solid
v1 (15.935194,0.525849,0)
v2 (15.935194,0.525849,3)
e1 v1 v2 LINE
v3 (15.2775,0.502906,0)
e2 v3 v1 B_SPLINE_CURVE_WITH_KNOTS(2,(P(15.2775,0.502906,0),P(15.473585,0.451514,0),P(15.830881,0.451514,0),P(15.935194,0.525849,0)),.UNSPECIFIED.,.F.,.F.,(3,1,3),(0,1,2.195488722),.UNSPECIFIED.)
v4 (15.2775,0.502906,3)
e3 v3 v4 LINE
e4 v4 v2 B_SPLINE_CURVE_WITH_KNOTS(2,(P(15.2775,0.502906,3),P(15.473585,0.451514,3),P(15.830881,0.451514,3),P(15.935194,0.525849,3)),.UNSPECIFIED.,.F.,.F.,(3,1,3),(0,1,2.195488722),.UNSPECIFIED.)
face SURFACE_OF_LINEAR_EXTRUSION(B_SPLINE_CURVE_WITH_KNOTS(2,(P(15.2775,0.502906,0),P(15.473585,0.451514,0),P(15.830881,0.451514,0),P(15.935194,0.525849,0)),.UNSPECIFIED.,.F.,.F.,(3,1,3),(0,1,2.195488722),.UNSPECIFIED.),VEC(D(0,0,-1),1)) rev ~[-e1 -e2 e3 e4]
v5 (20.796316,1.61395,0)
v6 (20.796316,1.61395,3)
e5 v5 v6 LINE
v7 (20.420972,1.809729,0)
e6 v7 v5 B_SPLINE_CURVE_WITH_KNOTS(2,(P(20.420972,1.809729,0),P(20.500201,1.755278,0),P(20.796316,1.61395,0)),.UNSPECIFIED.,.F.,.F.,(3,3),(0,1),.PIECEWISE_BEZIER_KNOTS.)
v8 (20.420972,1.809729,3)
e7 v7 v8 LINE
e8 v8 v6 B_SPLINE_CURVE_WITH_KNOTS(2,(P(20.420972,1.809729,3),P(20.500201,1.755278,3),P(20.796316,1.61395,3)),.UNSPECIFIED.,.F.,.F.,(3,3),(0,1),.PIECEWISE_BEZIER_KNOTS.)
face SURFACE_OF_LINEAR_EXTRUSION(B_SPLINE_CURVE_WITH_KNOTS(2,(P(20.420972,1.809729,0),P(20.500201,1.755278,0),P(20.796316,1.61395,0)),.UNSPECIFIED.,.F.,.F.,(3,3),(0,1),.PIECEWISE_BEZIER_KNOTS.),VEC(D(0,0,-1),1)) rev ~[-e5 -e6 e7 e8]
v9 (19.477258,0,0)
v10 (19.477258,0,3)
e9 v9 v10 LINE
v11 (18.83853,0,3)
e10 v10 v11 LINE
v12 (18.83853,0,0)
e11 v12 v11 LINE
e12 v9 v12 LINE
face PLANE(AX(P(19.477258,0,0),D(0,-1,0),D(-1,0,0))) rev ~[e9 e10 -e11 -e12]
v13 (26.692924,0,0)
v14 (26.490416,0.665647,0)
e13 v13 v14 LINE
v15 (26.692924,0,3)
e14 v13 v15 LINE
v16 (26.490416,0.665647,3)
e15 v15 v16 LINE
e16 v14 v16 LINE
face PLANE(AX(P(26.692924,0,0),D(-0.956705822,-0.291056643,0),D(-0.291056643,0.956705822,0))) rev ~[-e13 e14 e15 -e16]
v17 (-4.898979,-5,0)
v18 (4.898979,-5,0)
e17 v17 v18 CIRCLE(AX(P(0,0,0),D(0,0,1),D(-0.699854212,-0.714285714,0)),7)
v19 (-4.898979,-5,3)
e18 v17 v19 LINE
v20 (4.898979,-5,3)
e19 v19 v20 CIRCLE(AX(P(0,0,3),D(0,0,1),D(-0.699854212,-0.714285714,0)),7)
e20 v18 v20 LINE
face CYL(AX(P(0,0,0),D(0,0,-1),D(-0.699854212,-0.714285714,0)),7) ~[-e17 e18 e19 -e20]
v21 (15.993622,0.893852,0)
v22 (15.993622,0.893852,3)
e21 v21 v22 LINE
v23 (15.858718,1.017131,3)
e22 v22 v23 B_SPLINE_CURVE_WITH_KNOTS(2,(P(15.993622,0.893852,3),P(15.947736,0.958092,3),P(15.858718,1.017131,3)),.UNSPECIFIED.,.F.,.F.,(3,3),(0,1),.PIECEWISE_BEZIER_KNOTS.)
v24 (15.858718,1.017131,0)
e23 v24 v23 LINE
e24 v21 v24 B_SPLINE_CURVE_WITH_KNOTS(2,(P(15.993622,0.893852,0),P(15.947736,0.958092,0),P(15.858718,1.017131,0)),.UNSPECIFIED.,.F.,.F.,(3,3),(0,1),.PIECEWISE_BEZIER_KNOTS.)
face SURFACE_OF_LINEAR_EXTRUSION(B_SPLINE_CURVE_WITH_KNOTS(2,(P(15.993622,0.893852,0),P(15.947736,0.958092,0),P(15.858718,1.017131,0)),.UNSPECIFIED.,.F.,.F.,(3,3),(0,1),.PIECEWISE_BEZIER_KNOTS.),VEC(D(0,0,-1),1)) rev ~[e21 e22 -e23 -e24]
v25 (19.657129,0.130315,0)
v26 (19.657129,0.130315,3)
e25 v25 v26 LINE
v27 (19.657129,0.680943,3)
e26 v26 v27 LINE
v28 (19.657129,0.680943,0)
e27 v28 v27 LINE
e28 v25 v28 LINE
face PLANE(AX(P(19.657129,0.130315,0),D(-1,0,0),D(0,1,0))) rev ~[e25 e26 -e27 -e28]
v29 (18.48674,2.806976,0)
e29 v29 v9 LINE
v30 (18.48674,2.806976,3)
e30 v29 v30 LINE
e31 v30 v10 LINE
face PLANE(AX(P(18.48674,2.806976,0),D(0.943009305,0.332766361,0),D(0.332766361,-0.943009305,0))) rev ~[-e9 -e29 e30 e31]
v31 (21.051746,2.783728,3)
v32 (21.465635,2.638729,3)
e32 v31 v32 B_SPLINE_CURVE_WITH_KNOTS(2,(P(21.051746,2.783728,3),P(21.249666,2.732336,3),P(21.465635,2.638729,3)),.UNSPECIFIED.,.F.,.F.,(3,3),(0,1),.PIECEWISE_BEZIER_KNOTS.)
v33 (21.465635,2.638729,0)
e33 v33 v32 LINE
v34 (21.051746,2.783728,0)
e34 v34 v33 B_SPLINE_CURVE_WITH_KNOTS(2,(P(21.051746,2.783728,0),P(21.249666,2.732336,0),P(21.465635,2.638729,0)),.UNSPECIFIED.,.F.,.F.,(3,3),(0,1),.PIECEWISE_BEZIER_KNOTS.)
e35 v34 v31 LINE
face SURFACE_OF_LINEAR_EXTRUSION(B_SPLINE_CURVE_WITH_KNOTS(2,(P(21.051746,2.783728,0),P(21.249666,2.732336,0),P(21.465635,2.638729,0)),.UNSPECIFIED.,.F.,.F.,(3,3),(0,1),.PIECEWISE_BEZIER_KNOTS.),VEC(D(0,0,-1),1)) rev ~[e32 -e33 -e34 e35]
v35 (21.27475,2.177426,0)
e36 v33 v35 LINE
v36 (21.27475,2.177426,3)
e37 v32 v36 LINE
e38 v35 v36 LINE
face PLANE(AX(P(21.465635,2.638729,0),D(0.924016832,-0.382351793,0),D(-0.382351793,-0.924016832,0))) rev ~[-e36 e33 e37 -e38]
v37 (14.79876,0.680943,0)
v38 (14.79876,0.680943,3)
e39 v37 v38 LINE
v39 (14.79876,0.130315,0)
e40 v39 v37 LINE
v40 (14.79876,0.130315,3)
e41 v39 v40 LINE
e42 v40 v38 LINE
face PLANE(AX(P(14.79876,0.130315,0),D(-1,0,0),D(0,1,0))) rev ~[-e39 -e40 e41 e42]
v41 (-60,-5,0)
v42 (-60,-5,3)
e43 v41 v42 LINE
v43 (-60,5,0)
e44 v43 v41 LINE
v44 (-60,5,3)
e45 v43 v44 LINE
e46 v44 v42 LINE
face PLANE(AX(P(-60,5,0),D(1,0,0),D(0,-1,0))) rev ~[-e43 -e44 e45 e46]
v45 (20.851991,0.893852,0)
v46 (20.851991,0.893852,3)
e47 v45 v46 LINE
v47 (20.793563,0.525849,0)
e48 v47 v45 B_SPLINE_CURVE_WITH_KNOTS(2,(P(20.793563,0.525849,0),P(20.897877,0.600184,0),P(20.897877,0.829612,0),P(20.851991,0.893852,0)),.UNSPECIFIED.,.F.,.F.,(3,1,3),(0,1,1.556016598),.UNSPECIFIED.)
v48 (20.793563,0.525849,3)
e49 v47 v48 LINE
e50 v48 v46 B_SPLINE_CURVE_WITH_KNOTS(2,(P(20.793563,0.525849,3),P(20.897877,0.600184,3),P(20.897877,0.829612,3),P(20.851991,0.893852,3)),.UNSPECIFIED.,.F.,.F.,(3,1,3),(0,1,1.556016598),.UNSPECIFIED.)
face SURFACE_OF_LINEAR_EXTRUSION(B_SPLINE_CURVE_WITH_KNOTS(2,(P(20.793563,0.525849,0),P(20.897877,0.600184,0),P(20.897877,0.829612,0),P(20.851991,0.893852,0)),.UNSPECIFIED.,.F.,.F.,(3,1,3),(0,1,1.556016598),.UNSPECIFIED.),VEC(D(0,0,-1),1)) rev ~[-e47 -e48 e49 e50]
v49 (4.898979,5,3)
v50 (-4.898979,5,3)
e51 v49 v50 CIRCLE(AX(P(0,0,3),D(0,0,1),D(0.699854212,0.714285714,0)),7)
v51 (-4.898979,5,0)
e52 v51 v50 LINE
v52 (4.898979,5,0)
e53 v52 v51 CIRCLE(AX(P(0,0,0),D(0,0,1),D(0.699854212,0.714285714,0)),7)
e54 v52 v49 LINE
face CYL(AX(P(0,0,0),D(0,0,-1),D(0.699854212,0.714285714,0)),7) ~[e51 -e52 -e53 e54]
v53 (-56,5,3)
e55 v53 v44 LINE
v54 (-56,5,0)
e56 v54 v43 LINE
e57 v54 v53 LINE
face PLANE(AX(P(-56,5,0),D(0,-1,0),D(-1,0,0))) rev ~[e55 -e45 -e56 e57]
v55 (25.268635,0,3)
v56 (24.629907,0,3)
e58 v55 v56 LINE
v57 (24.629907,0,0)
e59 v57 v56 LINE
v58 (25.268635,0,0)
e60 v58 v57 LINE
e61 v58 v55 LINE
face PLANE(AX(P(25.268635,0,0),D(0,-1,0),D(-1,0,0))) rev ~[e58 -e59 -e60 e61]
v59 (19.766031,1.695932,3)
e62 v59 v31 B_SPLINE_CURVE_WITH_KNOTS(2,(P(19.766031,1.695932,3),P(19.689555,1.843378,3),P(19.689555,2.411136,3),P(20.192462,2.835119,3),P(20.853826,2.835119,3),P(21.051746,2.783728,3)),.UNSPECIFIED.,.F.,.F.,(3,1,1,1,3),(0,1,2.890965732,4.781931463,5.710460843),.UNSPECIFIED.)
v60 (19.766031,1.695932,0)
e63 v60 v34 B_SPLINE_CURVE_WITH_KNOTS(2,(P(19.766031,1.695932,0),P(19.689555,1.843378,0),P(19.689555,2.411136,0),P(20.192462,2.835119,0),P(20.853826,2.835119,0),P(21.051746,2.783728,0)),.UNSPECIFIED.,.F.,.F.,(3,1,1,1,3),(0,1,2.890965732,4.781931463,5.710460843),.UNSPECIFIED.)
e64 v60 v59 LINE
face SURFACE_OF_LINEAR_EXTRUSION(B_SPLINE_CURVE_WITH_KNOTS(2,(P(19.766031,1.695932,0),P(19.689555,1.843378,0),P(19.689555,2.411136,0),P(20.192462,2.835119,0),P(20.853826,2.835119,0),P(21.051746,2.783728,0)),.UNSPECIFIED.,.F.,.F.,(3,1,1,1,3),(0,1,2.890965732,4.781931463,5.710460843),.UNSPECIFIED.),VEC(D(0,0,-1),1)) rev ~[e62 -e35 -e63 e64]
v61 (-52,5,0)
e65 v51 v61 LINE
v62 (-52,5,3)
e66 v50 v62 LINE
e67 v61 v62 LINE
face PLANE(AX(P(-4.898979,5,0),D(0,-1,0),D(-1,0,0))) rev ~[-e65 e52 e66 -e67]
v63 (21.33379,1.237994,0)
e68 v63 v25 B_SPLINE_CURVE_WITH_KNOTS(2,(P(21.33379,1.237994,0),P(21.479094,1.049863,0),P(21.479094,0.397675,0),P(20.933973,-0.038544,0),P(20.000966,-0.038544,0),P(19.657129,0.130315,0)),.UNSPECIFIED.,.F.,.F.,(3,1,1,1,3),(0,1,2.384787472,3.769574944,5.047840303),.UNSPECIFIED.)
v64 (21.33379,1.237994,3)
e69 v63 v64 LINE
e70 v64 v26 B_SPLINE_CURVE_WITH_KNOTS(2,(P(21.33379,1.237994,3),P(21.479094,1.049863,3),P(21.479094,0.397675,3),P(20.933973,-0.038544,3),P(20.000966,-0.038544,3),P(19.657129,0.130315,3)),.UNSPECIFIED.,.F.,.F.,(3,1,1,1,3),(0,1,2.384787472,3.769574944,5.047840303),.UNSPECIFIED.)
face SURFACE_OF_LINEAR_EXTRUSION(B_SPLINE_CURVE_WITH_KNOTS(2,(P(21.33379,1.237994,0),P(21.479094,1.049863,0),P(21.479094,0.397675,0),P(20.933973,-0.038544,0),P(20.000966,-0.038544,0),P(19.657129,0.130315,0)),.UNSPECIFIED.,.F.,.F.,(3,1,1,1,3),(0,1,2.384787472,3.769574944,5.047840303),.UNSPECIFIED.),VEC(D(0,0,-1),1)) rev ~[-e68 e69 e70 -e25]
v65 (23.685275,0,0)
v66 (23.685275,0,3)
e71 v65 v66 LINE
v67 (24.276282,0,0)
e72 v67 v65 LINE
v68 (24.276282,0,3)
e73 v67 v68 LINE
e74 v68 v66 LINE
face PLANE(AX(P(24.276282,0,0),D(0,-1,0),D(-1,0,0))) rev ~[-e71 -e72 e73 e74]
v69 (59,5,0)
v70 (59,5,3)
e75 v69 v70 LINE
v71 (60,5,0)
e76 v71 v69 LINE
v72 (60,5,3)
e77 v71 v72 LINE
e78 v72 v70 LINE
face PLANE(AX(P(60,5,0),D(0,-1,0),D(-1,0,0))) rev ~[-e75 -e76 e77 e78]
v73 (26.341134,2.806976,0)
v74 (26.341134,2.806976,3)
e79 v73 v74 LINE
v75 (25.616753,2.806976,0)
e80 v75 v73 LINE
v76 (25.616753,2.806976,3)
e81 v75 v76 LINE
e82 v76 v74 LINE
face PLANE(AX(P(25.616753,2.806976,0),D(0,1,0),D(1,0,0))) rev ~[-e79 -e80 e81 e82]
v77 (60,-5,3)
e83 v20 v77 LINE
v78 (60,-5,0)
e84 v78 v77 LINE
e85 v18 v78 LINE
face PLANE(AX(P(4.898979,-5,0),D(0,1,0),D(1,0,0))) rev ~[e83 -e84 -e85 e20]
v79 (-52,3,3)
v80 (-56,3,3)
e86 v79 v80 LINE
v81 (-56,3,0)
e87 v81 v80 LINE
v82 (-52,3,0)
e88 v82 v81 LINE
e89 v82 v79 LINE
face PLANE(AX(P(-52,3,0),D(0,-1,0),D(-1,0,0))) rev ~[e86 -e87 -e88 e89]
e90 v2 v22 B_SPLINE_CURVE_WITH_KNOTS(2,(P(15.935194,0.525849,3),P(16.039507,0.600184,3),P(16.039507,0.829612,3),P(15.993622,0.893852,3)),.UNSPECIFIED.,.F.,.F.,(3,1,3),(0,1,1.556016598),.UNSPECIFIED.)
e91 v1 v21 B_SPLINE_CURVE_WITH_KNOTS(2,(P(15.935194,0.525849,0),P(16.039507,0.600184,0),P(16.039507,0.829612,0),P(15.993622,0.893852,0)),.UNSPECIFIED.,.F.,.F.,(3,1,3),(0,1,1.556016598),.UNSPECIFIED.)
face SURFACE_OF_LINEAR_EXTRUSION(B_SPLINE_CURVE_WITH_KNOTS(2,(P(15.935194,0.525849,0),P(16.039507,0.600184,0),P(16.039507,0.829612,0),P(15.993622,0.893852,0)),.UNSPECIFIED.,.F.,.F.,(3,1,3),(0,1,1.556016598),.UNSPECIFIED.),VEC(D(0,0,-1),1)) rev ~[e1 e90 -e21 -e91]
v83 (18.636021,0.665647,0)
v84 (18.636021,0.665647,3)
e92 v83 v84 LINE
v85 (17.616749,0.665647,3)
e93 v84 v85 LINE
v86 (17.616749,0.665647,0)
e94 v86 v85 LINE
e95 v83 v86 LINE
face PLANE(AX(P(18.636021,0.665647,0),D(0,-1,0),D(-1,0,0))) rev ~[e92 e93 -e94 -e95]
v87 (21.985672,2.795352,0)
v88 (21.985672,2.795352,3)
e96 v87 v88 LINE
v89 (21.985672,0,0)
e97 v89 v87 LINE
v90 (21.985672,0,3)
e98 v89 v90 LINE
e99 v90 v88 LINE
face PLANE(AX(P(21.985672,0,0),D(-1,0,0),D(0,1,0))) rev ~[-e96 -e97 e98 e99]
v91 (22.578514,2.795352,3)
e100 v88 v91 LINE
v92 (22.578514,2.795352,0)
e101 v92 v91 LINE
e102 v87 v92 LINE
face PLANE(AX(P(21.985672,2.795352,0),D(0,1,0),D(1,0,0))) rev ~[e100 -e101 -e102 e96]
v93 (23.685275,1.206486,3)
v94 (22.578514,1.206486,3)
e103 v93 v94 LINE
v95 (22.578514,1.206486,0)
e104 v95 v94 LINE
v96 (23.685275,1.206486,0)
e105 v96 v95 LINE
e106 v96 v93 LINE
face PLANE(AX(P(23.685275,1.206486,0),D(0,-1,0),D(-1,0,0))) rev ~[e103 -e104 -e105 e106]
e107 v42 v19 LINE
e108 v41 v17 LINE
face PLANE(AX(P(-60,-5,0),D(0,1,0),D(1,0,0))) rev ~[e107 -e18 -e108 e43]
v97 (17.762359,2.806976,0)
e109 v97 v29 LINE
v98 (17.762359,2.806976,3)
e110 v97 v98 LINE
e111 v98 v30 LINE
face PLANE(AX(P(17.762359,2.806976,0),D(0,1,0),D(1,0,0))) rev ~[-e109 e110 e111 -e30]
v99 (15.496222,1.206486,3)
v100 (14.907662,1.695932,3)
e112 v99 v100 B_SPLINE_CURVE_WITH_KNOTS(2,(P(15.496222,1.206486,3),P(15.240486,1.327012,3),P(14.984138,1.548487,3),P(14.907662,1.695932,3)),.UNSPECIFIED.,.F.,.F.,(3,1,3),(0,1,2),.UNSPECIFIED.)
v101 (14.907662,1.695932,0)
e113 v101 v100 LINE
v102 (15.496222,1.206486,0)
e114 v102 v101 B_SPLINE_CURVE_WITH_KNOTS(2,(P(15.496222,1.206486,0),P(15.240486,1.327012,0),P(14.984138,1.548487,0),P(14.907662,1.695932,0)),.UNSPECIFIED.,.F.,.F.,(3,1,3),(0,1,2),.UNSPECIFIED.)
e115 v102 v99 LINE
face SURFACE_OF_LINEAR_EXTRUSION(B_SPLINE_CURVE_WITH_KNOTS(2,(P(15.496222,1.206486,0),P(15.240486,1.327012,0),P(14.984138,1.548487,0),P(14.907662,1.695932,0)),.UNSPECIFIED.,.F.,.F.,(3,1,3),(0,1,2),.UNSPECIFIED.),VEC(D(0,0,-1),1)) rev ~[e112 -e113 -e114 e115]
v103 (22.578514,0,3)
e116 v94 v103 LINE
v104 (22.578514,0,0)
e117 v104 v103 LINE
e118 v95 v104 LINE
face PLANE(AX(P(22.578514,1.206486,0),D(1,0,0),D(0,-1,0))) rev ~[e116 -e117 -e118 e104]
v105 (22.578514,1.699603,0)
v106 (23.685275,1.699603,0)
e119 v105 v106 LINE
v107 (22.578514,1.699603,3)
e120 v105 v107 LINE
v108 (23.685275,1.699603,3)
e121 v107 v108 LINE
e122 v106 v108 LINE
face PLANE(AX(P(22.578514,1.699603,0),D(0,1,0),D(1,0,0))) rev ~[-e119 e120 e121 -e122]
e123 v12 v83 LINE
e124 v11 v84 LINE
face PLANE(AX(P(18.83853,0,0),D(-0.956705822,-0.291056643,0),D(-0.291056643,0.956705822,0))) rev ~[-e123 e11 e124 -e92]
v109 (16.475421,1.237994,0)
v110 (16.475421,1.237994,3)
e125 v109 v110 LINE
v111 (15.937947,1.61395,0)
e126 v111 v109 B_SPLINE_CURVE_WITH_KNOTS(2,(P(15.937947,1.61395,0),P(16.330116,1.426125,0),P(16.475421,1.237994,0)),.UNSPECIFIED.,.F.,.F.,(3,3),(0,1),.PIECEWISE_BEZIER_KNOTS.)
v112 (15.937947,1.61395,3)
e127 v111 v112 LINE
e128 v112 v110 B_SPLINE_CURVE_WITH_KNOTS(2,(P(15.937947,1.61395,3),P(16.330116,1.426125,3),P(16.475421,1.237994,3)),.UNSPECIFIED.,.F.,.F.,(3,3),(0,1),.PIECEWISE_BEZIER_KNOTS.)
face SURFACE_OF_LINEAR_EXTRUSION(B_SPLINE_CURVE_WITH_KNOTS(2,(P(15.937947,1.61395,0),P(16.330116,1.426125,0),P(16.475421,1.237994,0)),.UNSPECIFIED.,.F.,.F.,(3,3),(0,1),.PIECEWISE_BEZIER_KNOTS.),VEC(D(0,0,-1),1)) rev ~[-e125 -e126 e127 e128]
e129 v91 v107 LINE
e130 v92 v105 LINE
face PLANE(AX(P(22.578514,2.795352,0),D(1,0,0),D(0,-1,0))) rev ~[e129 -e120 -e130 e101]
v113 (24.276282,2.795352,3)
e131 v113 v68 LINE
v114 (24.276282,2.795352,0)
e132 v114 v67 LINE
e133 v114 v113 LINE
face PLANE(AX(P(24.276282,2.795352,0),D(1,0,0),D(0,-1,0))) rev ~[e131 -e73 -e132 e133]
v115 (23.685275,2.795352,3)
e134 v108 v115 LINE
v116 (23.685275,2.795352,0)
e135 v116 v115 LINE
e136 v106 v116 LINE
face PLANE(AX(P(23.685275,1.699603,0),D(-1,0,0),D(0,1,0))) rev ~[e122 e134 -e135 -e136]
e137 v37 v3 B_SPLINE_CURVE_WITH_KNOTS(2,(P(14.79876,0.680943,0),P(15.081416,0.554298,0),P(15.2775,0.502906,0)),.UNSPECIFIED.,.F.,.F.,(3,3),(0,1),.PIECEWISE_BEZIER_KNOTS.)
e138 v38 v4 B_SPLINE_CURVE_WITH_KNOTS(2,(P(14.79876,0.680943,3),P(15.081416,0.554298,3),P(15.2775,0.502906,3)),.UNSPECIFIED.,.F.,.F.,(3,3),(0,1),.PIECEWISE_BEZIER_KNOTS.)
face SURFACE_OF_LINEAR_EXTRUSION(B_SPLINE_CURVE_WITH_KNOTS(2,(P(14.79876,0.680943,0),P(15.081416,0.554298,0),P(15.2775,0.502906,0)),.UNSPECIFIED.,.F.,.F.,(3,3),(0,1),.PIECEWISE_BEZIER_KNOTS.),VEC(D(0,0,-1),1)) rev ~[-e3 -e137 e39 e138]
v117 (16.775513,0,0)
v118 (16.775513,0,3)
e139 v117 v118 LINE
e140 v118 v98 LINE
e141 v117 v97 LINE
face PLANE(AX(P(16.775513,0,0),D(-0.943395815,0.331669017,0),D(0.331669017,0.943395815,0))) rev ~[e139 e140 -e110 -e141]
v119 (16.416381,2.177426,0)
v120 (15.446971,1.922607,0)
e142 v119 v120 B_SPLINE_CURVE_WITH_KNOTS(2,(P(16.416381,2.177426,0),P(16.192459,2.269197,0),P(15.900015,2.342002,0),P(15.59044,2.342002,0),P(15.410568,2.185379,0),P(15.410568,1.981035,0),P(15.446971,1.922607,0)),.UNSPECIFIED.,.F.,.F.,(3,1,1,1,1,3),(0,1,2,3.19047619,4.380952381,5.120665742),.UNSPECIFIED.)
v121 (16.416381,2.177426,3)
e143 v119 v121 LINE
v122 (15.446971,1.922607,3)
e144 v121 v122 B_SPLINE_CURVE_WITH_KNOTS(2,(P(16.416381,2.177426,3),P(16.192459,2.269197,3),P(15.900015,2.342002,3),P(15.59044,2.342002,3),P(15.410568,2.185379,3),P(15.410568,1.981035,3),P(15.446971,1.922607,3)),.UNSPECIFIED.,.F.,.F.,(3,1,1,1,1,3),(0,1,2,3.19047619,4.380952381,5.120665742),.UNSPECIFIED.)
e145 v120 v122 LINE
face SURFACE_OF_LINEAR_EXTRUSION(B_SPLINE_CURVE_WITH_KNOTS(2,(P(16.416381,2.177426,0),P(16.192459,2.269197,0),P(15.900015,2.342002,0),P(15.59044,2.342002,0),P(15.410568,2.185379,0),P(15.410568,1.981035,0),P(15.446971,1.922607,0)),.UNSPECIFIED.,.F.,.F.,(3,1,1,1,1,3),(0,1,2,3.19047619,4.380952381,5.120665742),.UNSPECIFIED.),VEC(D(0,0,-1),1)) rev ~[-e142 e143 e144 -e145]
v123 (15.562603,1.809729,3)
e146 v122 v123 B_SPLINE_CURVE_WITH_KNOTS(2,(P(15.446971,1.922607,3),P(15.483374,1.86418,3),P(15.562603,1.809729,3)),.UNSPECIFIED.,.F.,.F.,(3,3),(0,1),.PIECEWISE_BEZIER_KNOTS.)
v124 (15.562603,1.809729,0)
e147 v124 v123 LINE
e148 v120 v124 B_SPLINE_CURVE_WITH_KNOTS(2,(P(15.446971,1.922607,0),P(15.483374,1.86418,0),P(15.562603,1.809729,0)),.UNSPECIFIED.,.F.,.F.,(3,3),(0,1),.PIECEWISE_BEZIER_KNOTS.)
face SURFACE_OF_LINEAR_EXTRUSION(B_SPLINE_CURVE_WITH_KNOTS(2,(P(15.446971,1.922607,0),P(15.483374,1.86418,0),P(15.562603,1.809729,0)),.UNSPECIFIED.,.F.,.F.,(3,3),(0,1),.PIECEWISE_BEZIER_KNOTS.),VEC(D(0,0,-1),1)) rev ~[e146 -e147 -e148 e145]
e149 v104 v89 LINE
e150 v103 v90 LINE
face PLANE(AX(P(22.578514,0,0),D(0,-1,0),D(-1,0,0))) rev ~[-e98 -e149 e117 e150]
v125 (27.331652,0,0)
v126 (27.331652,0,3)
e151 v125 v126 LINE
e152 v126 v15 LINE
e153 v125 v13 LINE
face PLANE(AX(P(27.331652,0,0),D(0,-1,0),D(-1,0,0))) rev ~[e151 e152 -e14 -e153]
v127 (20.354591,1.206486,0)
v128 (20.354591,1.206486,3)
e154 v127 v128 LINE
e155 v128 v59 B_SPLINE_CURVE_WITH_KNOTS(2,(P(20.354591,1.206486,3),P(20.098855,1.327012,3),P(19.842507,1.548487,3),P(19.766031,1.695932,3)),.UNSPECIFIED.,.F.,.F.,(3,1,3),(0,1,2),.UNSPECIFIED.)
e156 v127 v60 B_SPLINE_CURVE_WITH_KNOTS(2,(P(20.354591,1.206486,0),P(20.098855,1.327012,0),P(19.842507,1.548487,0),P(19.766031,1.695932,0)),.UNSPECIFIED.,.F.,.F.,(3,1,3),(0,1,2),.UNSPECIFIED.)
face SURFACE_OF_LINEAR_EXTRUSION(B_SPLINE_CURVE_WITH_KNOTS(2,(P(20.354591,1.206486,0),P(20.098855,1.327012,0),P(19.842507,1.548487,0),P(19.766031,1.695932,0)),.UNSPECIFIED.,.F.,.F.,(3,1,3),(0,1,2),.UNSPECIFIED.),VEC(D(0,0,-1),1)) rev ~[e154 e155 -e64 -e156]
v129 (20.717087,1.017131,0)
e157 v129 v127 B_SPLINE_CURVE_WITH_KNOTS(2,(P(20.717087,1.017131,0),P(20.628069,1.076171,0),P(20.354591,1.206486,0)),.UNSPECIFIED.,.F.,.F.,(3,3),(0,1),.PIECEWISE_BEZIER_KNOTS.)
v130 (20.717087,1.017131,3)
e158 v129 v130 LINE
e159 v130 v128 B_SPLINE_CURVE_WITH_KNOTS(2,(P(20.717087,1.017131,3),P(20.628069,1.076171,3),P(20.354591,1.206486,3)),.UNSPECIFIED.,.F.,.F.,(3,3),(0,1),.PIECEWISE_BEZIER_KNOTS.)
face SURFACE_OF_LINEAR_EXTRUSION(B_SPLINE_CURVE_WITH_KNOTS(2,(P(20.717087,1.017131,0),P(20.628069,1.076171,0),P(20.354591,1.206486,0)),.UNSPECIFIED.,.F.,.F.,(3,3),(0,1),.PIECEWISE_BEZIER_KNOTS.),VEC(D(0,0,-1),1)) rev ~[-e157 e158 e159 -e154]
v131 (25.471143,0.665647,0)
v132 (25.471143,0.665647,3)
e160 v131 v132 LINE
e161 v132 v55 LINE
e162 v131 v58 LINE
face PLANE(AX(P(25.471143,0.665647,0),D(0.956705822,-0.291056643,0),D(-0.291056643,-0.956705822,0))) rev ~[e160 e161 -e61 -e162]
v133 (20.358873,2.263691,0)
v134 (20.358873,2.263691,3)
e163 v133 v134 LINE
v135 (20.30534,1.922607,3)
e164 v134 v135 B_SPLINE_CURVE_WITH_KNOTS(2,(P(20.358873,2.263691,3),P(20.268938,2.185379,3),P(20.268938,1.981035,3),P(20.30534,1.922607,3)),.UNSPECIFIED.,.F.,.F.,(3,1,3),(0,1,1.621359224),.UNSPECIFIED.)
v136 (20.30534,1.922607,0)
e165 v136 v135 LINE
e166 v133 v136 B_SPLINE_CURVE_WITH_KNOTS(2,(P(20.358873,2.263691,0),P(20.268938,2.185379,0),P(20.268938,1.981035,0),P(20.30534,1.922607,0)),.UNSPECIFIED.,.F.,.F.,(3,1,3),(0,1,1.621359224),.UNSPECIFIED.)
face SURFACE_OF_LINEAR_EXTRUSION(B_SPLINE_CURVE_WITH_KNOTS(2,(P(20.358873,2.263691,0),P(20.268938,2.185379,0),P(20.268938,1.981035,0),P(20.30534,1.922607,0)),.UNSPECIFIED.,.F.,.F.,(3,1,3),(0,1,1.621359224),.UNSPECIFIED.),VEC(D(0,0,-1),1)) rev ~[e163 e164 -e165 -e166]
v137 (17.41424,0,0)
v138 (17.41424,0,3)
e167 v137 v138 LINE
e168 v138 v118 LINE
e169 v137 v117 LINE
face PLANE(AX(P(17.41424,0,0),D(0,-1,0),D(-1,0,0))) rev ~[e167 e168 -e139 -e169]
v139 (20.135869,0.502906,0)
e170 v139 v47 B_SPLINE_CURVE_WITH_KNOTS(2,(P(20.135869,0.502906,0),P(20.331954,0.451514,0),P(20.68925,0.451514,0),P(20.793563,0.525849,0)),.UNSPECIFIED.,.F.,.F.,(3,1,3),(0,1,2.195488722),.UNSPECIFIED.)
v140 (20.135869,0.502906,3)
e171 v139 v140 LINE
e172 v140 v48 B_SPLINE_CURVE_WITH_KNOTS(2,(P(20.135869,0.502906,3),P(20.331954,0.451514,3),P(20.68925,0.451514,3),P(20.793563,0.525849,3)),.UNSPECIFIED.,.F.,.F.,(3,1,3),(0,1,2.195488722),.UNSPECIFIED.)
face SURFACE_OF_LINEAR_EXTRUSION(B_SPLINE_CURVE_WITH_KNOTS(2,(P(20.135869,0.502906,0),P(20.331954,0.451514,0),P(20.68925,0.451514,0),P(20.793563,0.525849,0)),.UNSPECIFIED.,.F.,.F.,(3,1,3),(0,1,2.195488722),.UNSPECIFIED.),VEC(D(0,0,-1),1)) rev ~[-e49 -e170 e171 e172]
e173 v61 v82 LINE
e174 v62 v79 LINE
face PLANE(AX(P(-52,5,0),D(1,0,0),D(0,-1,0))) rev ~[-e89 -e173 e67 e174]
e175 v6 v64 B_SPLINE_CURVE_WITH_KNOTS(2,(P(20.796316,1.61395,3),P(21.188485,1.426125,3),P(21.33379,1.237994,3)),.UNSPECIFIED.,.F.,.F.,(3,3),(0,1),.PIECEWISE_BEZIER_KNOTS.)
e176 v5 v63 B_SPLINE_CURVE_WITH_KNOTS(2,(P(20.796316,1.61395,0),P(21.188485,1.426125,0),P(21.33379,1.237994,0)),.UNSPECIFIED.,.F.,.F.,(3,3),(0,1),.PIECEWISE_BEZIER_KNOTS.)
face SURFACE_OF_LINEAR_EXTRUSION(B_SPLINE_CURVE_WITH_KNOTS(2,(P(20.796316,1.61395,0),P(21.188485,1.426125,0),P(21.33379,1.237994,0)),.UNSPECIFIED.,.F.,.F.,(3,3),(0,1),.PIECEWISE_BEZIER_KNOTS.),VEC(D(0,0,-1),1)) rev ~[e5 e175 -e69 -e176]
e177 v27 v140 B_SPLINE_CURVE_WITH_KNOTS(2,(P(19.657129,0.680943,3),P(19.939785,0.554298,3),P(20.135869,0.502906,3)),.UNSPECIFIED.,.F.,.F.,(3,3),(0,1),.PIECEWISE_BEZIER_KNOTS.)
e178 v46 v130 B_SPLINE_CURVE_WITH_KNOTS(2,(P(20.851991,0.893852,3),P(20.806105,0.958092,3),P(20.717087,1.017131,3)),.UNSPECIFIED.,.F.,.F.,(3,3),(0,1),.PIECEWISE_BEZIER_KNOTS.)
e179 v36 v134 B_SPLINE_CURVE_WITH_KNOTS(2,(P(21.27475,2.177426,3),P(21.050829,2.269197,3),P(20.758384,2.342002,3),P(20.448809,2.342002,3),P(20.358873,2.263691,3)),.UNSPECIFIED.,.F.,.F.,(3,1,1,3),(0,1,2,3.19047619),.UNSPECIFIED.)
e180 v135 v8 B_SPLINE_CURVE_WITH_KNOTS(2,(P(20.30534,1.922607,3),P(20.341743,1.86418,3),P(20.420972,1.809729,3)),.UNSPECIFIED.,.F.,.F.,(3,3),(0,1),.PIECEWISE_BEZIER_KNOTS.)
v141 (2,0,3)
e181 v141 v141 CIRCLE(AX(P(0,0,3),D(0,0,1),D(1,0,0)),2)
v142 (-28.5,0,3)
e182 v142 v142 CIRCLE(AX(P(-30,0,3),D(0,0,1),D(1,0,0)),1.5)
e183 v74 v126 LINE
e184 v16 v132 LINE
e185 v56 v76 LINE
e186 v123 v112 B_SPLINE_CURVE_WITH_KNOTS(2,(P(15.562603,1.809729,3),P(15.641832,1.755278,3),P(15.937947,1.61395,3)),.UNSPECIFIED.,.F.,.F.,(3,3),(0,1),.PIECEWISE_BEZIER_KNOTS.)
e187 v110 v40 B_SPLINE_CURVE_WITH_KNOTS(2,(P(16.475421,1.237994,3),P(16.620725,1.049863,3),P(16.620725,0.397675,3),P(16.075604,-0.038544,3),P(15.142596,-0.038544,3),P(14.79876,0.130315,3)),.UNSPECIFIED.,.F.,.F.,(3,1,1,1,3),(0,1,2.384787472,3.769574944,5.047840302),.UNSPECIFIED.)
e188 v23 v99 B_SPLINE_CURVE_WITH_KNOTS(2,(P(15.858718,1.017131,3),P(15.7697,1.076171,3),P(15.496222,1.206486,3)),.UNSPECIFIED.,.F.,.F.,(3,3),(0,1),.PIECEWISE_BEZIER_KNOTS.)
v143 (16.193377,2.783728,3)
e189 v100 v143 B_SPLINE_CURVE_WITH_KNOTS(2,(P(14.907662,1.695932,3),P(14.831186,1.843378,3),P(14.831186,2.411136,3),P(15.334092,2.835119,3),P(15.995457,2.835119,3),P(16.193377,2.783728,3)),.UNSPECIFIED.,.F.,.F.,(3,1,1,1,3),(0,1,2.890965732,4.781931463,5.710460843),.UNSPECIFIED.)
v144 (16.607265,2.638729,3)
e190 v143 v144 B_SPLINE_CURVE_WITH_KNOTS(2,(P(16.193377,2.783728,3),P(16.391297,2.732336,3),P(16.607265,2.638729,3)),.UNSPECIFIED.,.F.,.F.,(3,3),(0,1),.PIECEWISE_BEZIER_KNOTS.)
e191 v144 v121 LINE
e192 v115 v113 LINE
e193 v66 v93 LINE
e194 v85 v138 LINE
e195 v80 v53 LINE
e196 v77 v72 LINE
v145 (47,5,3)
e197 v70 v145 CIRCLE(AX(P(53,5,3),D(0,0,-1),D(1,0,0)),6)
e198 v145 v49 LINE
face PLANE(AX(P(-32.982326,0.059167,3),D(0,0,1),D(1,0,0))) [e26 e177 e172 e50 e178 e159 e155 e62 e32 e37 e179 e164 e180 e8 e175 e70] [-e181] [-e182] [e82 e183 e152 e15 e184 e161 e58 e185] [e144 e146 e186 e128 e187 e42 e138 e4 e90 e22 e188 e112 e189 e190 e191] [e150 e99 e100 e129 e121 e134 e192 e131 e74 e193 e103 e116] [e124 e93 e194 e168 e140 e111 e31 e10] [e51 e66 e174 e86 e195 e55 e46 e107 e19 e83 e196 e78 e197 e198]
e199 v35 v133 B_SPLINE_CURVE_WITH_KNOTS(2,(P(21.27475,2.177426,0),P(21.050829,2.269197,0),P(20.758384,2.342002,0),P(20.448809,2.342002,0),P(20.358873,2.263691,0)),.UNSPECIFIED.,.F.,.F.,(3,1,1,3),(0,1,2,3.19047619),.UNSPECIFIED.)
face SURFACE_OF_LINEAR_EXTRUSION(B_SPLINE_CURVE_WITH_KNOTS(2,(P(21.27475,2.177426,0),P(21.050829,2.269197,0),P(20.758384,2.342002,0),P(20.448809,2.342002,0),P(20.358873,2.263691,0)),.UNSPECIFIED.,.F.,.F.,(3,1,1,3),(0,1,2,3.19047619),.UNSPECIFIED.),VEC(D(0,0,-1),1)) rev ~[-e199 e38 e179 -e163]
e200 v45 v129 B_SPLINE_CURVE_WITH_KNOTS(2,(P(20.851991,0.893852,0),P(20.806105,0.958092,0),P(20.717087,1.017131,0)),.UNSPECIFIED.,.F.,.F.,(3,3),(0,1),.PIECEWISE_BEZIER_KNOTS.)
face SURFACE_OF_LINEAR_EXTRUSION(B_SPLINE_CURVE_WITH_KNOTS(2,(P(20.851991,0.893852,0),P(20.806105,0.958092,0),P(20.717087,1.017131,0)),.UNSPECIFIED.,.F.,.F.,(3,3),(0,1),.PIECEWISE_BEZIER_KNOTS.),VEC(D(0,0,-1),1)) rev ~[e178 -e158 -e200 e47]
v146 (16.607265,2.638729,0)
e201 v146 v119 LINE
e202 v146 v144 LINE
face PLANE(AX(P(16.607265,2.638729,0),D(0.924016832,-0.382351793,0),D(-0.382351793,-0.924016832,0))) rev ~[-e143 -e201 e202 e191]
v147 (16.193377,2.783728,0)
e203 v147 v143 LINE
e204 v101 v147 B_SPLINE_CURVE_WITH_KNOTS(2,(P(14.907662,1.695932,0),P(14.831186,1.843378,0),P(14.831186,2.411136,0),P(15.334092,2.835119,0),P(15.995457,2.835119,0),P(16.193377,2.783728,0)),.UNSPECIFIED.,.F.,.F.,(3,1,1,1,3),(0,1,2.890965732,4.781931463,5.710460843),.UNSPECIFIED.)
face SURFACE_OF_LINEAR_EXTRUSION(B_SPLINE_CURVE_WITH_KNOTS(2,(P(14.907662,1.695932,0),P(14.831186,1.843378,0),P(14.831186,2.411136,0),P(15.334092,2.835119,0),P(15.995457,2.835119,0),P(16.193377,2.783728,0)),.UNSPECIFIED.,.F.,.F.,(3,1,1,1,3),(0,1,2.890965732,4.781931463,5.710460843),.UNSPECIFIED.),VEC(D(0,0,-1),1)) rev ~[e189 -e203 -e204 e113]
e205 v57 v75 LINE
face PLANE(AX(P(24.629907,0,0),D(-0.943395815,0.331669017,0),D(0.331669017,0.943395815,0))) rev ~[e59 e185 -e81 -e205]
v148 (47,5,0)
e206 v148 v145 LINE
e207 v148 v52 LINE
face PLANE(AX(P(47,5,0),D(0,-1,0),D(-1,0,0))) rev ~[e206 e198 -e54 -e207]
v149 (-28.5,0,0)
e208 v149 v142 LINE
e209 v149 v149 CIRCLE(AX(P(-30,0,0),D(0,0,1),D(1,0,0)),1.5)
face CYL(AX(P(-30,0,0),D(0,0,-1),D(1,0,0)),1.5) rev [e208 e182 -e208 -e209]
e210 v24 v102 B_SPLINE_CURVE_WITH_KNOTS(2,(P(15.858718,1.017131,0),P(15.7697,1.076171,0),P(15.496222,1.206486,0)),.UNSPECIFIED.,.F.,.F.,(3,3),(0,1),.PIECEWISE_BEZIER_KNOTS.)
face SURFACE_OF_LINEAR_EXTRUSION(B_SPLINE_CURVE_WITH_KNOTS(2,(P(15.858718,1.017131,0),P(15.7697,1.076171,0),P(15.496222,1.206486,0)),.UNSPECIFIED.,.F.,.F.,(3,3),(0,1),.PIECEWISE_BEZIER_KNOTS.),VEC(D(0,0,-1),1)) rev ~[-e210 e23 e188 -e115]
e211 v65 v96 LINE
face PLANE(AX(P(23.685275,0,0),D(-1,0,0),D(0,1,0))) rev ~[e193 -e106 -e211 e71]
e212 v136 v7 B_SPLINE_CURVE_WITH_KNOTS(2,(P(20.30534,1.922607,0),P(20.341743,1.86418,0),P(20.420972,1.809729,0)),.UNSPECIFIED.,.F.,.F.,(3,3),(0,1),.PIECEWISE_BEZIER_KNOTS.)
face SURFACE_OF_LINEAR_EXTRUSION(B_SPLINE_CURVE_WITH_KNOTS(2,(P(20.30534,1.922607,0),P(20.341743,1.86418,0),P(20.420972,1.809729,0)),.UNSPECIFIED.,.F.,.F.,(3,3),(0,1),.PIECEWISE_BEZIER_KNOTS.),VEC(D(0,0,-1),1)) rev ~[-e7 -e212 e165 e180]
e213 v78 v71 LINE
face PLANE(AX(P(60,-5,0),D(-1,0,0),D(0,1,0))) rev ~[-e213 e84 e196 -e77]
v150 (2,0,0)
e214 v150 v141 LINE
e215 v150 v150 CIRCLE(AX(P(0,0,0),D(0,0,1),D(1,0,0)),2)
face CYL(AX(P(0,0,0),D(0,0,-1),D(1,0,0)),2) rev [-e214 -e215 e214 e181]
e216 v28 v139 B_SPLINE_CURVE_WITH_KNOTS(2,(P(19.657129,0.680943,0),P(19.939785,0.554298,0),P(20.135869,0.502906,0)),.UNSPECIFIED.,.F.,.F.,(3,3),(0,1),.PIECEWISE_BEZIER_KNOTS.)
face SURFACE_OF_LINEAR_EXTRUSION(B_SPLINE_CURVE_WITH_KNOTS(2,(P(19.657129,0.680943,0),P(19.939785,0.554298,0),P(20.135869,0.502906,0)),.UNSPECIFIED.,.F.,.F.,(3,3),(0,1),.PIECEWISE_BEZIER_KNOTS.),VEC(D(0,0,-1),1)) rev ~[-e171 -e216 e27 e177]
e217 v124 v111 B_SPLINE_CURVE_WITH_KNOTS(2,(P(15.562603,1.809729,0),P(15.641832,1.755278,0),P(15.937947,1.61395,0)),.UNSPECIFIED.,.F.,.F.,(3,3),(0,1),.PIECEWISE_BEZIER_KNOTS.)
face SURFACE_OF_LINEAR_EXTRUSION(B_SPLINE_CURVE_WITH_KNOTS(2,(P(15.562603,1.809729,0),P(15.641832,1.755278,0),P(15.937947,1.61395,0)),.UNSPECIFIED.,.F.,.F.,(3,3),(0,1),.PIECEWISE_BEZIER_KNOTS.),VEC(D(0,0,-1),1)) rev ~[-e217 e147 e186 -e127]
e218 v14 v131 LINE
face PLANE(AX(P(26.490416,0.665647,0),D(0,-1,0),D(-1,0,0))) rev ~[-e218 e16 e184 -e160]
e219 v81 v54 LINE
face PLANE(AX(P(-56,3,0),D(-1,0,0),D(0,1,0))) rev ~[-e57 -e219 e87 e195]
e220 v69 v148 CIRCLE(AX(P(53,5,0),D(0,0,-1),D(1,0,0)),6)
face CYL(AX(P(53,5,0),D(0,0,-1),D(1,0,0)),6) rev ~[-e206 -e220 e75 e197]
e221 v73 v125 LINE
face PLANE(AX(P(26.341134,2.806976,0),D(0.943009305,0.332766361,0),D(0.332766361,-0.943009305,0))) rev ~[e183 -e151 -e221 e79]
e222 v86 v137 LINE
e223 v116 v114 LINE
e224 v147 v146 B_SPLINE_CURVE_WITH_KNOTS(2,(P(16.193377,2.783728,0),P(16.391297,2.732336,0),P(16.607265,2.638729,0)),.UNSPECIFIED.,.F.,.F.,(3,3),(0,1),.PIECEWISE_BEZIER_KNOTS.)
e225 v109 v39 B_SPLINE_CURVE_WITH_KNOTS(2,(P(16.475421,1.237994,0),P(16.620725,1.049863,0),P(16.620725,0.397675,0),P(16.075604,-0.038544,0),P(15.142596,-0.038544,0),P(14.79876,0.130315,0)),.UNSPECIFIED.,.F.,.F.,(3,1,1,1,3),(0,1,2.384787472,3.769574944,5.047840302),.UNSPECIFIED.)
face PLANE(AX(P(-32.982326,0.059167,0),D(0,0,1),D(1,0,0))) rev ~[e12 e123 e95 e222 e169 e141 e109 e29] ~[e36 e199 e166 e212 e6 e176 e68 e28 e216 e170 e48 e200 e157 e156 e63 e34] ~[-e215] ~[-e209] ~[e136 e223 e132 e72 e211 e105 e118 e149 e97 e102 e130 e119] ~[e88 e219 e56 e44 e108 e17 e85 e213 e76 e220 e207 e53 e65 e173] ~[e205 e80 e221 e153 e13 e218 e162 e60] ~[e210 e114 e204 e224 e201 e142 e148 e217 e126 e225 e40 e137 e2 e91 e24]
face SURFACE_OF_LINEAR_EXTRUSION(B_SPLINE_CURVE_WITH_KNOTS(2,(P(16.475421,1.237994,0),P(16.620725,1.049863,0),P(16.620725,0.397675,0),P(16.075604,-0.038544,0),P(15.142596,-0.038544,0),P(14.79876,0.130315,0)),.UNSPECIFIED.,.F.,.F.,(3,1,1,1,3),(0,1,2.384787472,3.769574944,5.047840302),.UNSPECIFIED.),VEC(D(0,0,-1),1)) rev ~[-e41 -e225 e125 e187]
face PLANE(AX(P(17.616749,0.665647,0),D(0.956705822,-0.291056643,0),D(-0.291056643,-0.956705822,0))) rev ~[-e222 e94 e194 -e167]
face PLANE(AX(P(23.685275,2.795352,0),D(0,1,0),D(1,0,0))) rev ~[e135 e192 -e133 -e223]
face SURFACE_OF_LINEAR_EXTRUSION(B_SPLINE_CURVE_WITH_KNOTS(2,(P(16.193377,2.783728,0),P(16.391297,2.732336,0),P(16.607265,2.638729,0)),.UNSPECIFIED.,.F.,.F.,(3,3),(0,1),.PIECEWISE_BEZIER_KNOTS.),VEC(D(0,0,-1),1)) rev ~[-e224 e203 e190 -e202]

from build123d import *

# Parameters (mm, degrees)
F0_R     = 1.5
F0_R_2   = 2
F1_DEPTH = 3


with BuildPart() as f1:
    # F0 (on Top) → F1 (new body)
    with BuildSketch(Plane.XY):
        with BuildLine():
            Line((-56, 5), (-60, 5))
            Line((-60, 5), (-60, -5))
            Line((-60, -5), (-4.8989794856, -5))
            ThreePointArc((-4.8989794856, -5), (-7, 0), (-4.8989794856, 5))
            Line((-4.8989794856, 5), (-52, 5))
            Line((-52, 5), (-52, 3))
            Line((-52, 3), (-56, 3))
            Line((-56, 3), (-56, 5))
        make_face()
        with Locations((-30, 0)):
            Circle(F0_R, mode=Mode.SUBTRACT)
        with BuildLine():
            ThreePointArc((7, 0), (6.4534043883, -2.7117470016), (4.8989794856, -5))
            Line((4.8989794856, -5), (60, -5))
            Line((60, -5), (60, 5))
            Line((60, 5), (59, 5))
            ThreePointArc((59, 5), (53, -1), (47, 5))
            Line((47, 5), (4.8989794856, 5))
            ThreePointArc((4.8989794856, 5), (6.4534043883, 2.7117470016), (7, 0))
        make_face()
        with BuildLine():
            add(Edge.make_bspline(
                [(16.4754206125, 1.2379939809), (16.6207250703, 1.049862946), (16.6207250703, 0.7763846611)],
                knots=[0, 0, 0, 1, 1, 1], degree=2))
            add(Edge.make_bspline(
                [(16.6207250703, 0.7763846611), (16.6207250703, 0.3976753583), (16.3481644978, 0.1795657195)],
                knots=[0, 0, 0, 1, 1, 1], degree=2))
            add(Edge.make_bspline(
                [(16.3481644978, 0.1795657195), (16.0756039253, -0.0385439193), (15.5904399881, -0.0385439193)],
                knots=[0, 0, 0, 1, 1, 1], degree=2))
            add(Edge.make_bspline(
                [(15.5904399881, -0.0385439193), (15.1425963539, -0.0385439193), (14.798760121, 0.1303151559)],
                knots=[0, 0, 0, 1, 1, 1], degree=2))
            Line((14.798760121, 0.1303151559), (14.798760121, 0.6809425751))
            add(Edge.make_bspline(
                [(14.798760121, 0.6809425751), (15.0814155295, 0.5542982687), (15.2775000716, 0.5029063762)],
                knots=[0, 0, 0, 1, 1, 1], degree=2))
            add(Edge.make_bspline(
                [(15.2775000716, 0.5029063762), (15.4735846136, 0.4515144838), (15.6363256064, 0.4515144838)],
                knots=[0, 0, 0, 1, 1, 1], degree=2))
            add(Edge.make_bspline(
                [(15.6363256064, 0.4515144838), (15.8308806279, 0.4515144838), (15.9351939334, 0.5258491854)],
                knots=[0, 0, 0, 1, 1, 1], degree=2))
            add(Edge.make_bspline(
                [(15.9351939334, 0.5258491854), (16.0395072389, 0.6001838869), (16.0395072389, 0.7476296736)],
                knots=[0, 0, 0, 1, 1, 1], degree=2))
            add(Edge.make_bspline(
                [(16.0395072389, 0.7476296736), (16.0395072389, 0.8296119783), (15.9936216207, 0.8938518439)],
                knots=[0, 0, 0, 1, 1, 1], degree=2))
            add(Edge.make_bspline(
                [(15.9936216207, 0.8938518439), (15.9477360024, 0.9580917094), (15.858717903, 1.0171312049)],
                knots=[0, 0, 0, 1, 1, 1], degree=2))
            add(Edge.make_bspline(
                [(15.858717903, 1.0171312049), (15.7696998035, 1.0761707004), (15.4962215186, 1.2064858563)],
                knots=[0, 0, 0, 1, 1, 1], degree=2))
            add(Edge.make_bspline(
                [(15.4962215186, 1.2064858563), (15.2404856728, 1.3270120803), (15.1123118458, 1.4377493724)],
                knots=[0, 0, 0, 1, 1, 1], degree=2))
            add(Edge.make_bspline(
                [(15.1123118458, 1.4377493724), (14.9841380188, 1.5484866645), (14.9076619883, 1.6959324512)],
                knots=[0, 0, 0, 1, 1, 1], degree=2))
            add(Edge.make_bspline(
                [(14.9076619883, 1.6959324512), (14.8311859579, 1.8433782379), (14.8311859579, 2.0397686841)],
                knots=[0, 0, 0, 1, 1, 1], degree=2))
            add(Edge.make_bspline(
                [(14.8311859579, 2.0397686841), (14.8311859579, 2.4111362879), (15.082639146, 2.6231278443)],
                knots=[0, 0, 0, 1, 1, 1], degree=2))
            add(Edge.make_bspline(
                [(15.082639146, 2.6231278443), (15.3340923341, 2.8351194007), (15.7776533107, 2.8351194007)],
                knots=[0, 0, 0, 1, 1, 1], degree=2))
            add(Edge.make_bspline(
                [(15.7776533107, 2.8351194007), (15.9954570454, 2.8351194007), (16.1933770122, 2.7837275083)],
                knots=[0, 0, 0, 1, 1, 1], degree=2))
            add(Edge.make_bspline(
                [(16.1933770122, 2.7837275083), (16.391296979, 2.7323356158), (16.607265289, 2.6387289545)],
                knots=[0, 0, 0, 1, 1, 1], degree=2))
            Line((16.607265289, 2.6387289545), (16.416381117, 2.1774255389))
            add(Edge.make_bspline(
                [(16.416381117, 2.1774255389), (16.1924592998, 2.2691967754), (16.0462371296, 2.3055993659)],
                knots=[0, 0, 0, 1, 1, 1], degree=2))
            add(Edge.make_bspline(
                [(16.0462371296, 2.3055993659), (15.9000149594, 2.3420019564), (15.7586872551, 2.3420019564)],
                knots=[0, 0, 0, 1, 1, 1], degree=2))
            add(Edge.make_bspline(
                [(15.7586872551, 2.3420019564), (15.5904399881, 2.3420019564), (15.5005041763, 2.2636905012)],
                knots=[0, 0, 0, 1, 1, 1], degree=2))
            add(Edge.make_bspline(
                [(15.5005041763, 2.2636905012), (15.4105683645, 2.185379046), (15.4105683645, 2.0593465479)],
                knots=[0, 0, 0, 1, 1, 1], degree=2))
            add(Edge.make_bspline(
                [(15.4105683645, 2.0593465479), (15.4105683645, 1.9810350927), (15.446970955, 1.9226074054)],
                knots=[0, 0, 0, 1, 1, 1], degree=2))
            add(Edge.make_bspline(
                [(15.446970955, 1.9226074054), (15.4833735455, 1.8641797182), (15.5626027131, 1.8097287845)],
                knots=[0, 0, 0, 1, 1, 1], degree=2))
            add(Edge.make_bspline(
                [(15.5626027131, 1.8097287845), (15.6418318806, 1.7552778508), (15.9379470705, 1.6139501465)],
                knots=[0, 0, 0, 1, 1, 1], degree=2))
            add(Edge.make_bspline(
                [(15.9379470705, 1.6139501465), (16.3301161546, 1.4261250158), (16.4754206125, 1.2379939809)],
                knots=[0, 0, 0, 1, 1, 1], degree=2))
        make_face(mode=Mode.SUBTRACT)
        Polygon((19.4772577596, 0), (18.8385299533, 0), (18.6360214247, 0.665647369), (17.6167488909, 0.665647369), (17.4142403622, 0), (16.7755125559, 0), (17.7623592528, 2.8069762215), (18.4867402132, 2.8069762215), align=None, mode=Mode.SUBTRACT)
        with BuildLine():
            add(Edge.make_bspline(
                [(21.3337898747, 1.2379939809), (21.4790943325, 1.049862946), (21.4790943325, 0.7763846611)],
                knots=[0, 0, 0, 1, 1, 1], degree=2))
            add(Edge.make_bspline(
                [(21.4790943325, 0.7763846611), (21.4790943325, 0.3976753583), (21.20653376, 0.1795657195)],
                knots=[0, 0, 0, 1, 1, 1], degree=2))
            add(Edge.make_bspline(
                [(21.20653376, 0.1795657195), (20.9339731875, -0.0385439193), (20.4488092504, -0.0385439193)],
                knots=[0, 0, 0, 1, 1, 1], degree=2))
            add(Edge.make_bspline(
                [(20.4488092504, -0.0385439193), (20.0009656161, -0.0385439193), (19.6571293832, 0.1303151559)],
                knots=[0, 0, 0, 1, 1, 1], degree=2))
            Line((19.6571293832, 0.1303151559), (19.6571293832, 0.6809425751))
            add(Edge.make_bspline(
                [(19.6571293832, 0.6809425751), (19.9397847917, 0.5542982687), (20.1358693338, 0.5029063762)],
                knots=[0, 0, 0, 1, 1, 1], degree=2))
            add(Edge.make_bspline(
                [(20.1358693338, 0.5029063762), (20.3319538758, 0.4515144838), (20.4946948686, 0.4515144838)],
                knots=[0, 0, 0, 1, 1, 1], degree=2))
            add(Edge.make_bspline(
                [(20.4946948686, 0.4515144838), (20.6892498901, 0.4515144838), (20.7935631956, 0.5258491854)],
                knots=[0, 0, 0, 1, 1, 1], degree=2))
            add(Edge.make_bspline(
                [(20.7935631956, 0.5258491854), (20.8978765011, 0.6001838869), (20.8978765011, 0.7476296736)],
                knots=[0, 0, 0, 1, 1, 1], degree=2))
            add(Edge.make_bspline(
                [(20.8978765011, 0.7476296736), (20.8978765011, 0.8296119783), (20.8519908829, 0.8938518439)],
                knots=[0, 0, 0, 1, 1, 1], degree=2))
            add(Edge.make_bspline(
                [(20.8519908829, 0.8938518439), (20.8061052646, 0.9580917094), (20.7170871652, 1.0171312049)],
                knots=[0, 0, 0, 1, 1, 1], degree=2))
            add(Edge.make_bspline(
                [(20.7170871652, 1.0171312049), (20.6280690657, 1.0761707004), (20.3545907808, 1.2064858563)],
                knots=[0, 0, 0, 1, 1, 1], degree=2))
            add(Edge.make_bspline(
                [(20.3545907808, 1.2064858563), (20.098854935, 1.3270120803), (19.970681108, 1.4377493724)],
                knots=[0, 0, 0, 1, 1, 1], degree=2))
            add(Edge.make_bspline(
                [(19.970681108, 1.4377493724), (19.842507281, 1.5484866645), (19.7660312505, 1.6959324512)],
                knots=[0, 0, 0, 1, 1, 1], degree=2))
            add(Edge.make_bspline(
                [(19.7660312505, 1.6959324512), (19.6895552201, 1.8433782379), (19.6895552201, 2.0397686841)],
                knots=[0, 0, 0, 1, 1, 1], degree=2))
            add(Edge.make_bspline(
                [(19.6895552201, 2.0397686841), (19.6895552201, 2.4111362879), (19.9410084082, 2.6231278443)],
                knots=[0, 0, 0, 1, 1, 1], degree=2))
            add(Edge.make_bspline(
                [(19.9410084082, 2.6231278443), (20.1924615963, 2.8351194007), (20.6360225729, 2.8351194007)],
                knots=[0, 0, 0, 1, 1, 1], degree=2))
            add(Edge.make_bspline(
                [(20.6360225729, 2.8351194007), (20.8538263076, 2.8351194007), (21.0517462744, 2.7837275083)],
                knots=[0, 0, 0, 1, 1, 1], degree=2))
            add(Edge.make_bspline(
                [(21.0517462744, 2.7837275083), (21.2496662412, 2.7323356158), (21.4656345512, 2.6387289545)],
                knots=[0, 0, 0, 1, 1, 1], degree=2))
            Line((21.4656345512, 2.6387289545), (21.2747503792, 2.1774255389))
            add(Edge.make_bspline(
                [(21.2747503792, 2.1774255389), (21.050828562, 2.2691967754), (20.9046063918, 2.3055993659)],
                knots=[0, 0, 0, 1, 1, 1], degree=2))
            add(Edge.make_bspline(
                [(20.9046063918, 2.3055993659), (20.7583842216, 2.3420019564), (20.6170565173, 2.3420019564)],
                knots=[0, 0, 0, 1, 1, 1], degree=2))
            add(Edge.make_bspline(
                [(20.6170565173, 2.3420019564), (20.4488092504, 2.3420019564), (20.3588734386, 2.2636905012)],
                knots=[0, 0, 0, 1, 1, 1], degree=2))
            add(Edge.make_bspline(
                [(20.3588734386, 2.2636905012), (20.2689376267, 2.185379046), (20.2689376267, 2.0593465479)],
                knots=[0, 0, 0, 1, 1, 1], degree=2))
            add(Edge.make_bspline(
                [(20.2689376267, 2.0593465479), (20.2689376267, 1.9810350927), (20.3053402172, 1.9226074054)],
                knots=[0, 0, 0, 1, 1, 1], degree=2))
            add(Edge.make_bspline(
                [(20.3053402172, 1.9226074054), (20.3417428077, 1.8641797182), (20.4209719753, 1.8097287845)],
                knots=[0, 0, 0, 1, 1, 1], degree=2))
            add(Edge.make_bspline(
                [(20.4209719753, 1.8097287845), (20.5002011428, 1.7552778508), (20.7963163327, 1.6139501465)],
                knots=[0, 0, 0, 1, 1, 1], degree=2))
            add(Edge.make_bspline(
                [(20.7963163327, 1.6139501465), (21.1884854168, 1.4261250158), (21.3337898747, 1.2379939809)],
                knots=[0, 0, 0, 1, 1, 1], degree=2))
        make_face(mode=Mode.SUBTRACT)
        Polygon((24.2762816222, 2.7953518649), (24.2762816222, 0), (23.6852748589, 0), (23.6852748589, 1.2064858563), (22.5785137462, 1.2064858563), (22.5785137462, 0), (21.9856715582, 0), (21.9856715582, 2.7953518649), (22.5785137462, 2.7953518649), (22.5785137462, 1.6996033006), (23.6852748589, 1.6996033006), (23.6852748589, 2.7953518649), align=None, mode=Mode.SUBTRACT)
        Polygon((27.3316519906, 0), (26.6929241843, 0), (26.4904156556, 0.665647369), (25.4711431219, 0.665647369), (25.2686345932, 0), (24.6299067869, 0), (25.6167534838, 2.8069762215), (26.3411344442, 2.8069762215), align=None, mode=Mode.SUBTRACT)
        with BuildLine():
            ThreePointArc((-4.8989794856, 5), (-7, 0), (-4.8989794856, -5))
            Line((-4.8989794856, -5), (4.8989794856, -5))
            ThreePointArc((4.8989794856, -5), (6.4534043883, -2.7117470016), (7, 0))
            ThreePointArc((7, 0), (6.4534043883, 2.7117470016), (4.8989794856, 5))
            Line((4.8989794856, 5), (-4.8989794856, 5))
        make_face()
        Circle(F0_R_2, mode=Mode.SUBTRACT)
        with BuildLine():
            ThreePointArc((4.8989794856, 5), (0, 7), (-4.8989794856, 5))
            Line((-4.8989794856, 5), (4.8989794856, 5))
        make_face()
        with BuildLine():
            Line((4.8989794856, -5), (-4.8989794856, -5))
            ThreePointArc((-4.8989794856, -5), (0, -7), (4.8989794856, -5))
        make_face()
    extrude(amount=F1_DEPTH)


solid = f1.part
